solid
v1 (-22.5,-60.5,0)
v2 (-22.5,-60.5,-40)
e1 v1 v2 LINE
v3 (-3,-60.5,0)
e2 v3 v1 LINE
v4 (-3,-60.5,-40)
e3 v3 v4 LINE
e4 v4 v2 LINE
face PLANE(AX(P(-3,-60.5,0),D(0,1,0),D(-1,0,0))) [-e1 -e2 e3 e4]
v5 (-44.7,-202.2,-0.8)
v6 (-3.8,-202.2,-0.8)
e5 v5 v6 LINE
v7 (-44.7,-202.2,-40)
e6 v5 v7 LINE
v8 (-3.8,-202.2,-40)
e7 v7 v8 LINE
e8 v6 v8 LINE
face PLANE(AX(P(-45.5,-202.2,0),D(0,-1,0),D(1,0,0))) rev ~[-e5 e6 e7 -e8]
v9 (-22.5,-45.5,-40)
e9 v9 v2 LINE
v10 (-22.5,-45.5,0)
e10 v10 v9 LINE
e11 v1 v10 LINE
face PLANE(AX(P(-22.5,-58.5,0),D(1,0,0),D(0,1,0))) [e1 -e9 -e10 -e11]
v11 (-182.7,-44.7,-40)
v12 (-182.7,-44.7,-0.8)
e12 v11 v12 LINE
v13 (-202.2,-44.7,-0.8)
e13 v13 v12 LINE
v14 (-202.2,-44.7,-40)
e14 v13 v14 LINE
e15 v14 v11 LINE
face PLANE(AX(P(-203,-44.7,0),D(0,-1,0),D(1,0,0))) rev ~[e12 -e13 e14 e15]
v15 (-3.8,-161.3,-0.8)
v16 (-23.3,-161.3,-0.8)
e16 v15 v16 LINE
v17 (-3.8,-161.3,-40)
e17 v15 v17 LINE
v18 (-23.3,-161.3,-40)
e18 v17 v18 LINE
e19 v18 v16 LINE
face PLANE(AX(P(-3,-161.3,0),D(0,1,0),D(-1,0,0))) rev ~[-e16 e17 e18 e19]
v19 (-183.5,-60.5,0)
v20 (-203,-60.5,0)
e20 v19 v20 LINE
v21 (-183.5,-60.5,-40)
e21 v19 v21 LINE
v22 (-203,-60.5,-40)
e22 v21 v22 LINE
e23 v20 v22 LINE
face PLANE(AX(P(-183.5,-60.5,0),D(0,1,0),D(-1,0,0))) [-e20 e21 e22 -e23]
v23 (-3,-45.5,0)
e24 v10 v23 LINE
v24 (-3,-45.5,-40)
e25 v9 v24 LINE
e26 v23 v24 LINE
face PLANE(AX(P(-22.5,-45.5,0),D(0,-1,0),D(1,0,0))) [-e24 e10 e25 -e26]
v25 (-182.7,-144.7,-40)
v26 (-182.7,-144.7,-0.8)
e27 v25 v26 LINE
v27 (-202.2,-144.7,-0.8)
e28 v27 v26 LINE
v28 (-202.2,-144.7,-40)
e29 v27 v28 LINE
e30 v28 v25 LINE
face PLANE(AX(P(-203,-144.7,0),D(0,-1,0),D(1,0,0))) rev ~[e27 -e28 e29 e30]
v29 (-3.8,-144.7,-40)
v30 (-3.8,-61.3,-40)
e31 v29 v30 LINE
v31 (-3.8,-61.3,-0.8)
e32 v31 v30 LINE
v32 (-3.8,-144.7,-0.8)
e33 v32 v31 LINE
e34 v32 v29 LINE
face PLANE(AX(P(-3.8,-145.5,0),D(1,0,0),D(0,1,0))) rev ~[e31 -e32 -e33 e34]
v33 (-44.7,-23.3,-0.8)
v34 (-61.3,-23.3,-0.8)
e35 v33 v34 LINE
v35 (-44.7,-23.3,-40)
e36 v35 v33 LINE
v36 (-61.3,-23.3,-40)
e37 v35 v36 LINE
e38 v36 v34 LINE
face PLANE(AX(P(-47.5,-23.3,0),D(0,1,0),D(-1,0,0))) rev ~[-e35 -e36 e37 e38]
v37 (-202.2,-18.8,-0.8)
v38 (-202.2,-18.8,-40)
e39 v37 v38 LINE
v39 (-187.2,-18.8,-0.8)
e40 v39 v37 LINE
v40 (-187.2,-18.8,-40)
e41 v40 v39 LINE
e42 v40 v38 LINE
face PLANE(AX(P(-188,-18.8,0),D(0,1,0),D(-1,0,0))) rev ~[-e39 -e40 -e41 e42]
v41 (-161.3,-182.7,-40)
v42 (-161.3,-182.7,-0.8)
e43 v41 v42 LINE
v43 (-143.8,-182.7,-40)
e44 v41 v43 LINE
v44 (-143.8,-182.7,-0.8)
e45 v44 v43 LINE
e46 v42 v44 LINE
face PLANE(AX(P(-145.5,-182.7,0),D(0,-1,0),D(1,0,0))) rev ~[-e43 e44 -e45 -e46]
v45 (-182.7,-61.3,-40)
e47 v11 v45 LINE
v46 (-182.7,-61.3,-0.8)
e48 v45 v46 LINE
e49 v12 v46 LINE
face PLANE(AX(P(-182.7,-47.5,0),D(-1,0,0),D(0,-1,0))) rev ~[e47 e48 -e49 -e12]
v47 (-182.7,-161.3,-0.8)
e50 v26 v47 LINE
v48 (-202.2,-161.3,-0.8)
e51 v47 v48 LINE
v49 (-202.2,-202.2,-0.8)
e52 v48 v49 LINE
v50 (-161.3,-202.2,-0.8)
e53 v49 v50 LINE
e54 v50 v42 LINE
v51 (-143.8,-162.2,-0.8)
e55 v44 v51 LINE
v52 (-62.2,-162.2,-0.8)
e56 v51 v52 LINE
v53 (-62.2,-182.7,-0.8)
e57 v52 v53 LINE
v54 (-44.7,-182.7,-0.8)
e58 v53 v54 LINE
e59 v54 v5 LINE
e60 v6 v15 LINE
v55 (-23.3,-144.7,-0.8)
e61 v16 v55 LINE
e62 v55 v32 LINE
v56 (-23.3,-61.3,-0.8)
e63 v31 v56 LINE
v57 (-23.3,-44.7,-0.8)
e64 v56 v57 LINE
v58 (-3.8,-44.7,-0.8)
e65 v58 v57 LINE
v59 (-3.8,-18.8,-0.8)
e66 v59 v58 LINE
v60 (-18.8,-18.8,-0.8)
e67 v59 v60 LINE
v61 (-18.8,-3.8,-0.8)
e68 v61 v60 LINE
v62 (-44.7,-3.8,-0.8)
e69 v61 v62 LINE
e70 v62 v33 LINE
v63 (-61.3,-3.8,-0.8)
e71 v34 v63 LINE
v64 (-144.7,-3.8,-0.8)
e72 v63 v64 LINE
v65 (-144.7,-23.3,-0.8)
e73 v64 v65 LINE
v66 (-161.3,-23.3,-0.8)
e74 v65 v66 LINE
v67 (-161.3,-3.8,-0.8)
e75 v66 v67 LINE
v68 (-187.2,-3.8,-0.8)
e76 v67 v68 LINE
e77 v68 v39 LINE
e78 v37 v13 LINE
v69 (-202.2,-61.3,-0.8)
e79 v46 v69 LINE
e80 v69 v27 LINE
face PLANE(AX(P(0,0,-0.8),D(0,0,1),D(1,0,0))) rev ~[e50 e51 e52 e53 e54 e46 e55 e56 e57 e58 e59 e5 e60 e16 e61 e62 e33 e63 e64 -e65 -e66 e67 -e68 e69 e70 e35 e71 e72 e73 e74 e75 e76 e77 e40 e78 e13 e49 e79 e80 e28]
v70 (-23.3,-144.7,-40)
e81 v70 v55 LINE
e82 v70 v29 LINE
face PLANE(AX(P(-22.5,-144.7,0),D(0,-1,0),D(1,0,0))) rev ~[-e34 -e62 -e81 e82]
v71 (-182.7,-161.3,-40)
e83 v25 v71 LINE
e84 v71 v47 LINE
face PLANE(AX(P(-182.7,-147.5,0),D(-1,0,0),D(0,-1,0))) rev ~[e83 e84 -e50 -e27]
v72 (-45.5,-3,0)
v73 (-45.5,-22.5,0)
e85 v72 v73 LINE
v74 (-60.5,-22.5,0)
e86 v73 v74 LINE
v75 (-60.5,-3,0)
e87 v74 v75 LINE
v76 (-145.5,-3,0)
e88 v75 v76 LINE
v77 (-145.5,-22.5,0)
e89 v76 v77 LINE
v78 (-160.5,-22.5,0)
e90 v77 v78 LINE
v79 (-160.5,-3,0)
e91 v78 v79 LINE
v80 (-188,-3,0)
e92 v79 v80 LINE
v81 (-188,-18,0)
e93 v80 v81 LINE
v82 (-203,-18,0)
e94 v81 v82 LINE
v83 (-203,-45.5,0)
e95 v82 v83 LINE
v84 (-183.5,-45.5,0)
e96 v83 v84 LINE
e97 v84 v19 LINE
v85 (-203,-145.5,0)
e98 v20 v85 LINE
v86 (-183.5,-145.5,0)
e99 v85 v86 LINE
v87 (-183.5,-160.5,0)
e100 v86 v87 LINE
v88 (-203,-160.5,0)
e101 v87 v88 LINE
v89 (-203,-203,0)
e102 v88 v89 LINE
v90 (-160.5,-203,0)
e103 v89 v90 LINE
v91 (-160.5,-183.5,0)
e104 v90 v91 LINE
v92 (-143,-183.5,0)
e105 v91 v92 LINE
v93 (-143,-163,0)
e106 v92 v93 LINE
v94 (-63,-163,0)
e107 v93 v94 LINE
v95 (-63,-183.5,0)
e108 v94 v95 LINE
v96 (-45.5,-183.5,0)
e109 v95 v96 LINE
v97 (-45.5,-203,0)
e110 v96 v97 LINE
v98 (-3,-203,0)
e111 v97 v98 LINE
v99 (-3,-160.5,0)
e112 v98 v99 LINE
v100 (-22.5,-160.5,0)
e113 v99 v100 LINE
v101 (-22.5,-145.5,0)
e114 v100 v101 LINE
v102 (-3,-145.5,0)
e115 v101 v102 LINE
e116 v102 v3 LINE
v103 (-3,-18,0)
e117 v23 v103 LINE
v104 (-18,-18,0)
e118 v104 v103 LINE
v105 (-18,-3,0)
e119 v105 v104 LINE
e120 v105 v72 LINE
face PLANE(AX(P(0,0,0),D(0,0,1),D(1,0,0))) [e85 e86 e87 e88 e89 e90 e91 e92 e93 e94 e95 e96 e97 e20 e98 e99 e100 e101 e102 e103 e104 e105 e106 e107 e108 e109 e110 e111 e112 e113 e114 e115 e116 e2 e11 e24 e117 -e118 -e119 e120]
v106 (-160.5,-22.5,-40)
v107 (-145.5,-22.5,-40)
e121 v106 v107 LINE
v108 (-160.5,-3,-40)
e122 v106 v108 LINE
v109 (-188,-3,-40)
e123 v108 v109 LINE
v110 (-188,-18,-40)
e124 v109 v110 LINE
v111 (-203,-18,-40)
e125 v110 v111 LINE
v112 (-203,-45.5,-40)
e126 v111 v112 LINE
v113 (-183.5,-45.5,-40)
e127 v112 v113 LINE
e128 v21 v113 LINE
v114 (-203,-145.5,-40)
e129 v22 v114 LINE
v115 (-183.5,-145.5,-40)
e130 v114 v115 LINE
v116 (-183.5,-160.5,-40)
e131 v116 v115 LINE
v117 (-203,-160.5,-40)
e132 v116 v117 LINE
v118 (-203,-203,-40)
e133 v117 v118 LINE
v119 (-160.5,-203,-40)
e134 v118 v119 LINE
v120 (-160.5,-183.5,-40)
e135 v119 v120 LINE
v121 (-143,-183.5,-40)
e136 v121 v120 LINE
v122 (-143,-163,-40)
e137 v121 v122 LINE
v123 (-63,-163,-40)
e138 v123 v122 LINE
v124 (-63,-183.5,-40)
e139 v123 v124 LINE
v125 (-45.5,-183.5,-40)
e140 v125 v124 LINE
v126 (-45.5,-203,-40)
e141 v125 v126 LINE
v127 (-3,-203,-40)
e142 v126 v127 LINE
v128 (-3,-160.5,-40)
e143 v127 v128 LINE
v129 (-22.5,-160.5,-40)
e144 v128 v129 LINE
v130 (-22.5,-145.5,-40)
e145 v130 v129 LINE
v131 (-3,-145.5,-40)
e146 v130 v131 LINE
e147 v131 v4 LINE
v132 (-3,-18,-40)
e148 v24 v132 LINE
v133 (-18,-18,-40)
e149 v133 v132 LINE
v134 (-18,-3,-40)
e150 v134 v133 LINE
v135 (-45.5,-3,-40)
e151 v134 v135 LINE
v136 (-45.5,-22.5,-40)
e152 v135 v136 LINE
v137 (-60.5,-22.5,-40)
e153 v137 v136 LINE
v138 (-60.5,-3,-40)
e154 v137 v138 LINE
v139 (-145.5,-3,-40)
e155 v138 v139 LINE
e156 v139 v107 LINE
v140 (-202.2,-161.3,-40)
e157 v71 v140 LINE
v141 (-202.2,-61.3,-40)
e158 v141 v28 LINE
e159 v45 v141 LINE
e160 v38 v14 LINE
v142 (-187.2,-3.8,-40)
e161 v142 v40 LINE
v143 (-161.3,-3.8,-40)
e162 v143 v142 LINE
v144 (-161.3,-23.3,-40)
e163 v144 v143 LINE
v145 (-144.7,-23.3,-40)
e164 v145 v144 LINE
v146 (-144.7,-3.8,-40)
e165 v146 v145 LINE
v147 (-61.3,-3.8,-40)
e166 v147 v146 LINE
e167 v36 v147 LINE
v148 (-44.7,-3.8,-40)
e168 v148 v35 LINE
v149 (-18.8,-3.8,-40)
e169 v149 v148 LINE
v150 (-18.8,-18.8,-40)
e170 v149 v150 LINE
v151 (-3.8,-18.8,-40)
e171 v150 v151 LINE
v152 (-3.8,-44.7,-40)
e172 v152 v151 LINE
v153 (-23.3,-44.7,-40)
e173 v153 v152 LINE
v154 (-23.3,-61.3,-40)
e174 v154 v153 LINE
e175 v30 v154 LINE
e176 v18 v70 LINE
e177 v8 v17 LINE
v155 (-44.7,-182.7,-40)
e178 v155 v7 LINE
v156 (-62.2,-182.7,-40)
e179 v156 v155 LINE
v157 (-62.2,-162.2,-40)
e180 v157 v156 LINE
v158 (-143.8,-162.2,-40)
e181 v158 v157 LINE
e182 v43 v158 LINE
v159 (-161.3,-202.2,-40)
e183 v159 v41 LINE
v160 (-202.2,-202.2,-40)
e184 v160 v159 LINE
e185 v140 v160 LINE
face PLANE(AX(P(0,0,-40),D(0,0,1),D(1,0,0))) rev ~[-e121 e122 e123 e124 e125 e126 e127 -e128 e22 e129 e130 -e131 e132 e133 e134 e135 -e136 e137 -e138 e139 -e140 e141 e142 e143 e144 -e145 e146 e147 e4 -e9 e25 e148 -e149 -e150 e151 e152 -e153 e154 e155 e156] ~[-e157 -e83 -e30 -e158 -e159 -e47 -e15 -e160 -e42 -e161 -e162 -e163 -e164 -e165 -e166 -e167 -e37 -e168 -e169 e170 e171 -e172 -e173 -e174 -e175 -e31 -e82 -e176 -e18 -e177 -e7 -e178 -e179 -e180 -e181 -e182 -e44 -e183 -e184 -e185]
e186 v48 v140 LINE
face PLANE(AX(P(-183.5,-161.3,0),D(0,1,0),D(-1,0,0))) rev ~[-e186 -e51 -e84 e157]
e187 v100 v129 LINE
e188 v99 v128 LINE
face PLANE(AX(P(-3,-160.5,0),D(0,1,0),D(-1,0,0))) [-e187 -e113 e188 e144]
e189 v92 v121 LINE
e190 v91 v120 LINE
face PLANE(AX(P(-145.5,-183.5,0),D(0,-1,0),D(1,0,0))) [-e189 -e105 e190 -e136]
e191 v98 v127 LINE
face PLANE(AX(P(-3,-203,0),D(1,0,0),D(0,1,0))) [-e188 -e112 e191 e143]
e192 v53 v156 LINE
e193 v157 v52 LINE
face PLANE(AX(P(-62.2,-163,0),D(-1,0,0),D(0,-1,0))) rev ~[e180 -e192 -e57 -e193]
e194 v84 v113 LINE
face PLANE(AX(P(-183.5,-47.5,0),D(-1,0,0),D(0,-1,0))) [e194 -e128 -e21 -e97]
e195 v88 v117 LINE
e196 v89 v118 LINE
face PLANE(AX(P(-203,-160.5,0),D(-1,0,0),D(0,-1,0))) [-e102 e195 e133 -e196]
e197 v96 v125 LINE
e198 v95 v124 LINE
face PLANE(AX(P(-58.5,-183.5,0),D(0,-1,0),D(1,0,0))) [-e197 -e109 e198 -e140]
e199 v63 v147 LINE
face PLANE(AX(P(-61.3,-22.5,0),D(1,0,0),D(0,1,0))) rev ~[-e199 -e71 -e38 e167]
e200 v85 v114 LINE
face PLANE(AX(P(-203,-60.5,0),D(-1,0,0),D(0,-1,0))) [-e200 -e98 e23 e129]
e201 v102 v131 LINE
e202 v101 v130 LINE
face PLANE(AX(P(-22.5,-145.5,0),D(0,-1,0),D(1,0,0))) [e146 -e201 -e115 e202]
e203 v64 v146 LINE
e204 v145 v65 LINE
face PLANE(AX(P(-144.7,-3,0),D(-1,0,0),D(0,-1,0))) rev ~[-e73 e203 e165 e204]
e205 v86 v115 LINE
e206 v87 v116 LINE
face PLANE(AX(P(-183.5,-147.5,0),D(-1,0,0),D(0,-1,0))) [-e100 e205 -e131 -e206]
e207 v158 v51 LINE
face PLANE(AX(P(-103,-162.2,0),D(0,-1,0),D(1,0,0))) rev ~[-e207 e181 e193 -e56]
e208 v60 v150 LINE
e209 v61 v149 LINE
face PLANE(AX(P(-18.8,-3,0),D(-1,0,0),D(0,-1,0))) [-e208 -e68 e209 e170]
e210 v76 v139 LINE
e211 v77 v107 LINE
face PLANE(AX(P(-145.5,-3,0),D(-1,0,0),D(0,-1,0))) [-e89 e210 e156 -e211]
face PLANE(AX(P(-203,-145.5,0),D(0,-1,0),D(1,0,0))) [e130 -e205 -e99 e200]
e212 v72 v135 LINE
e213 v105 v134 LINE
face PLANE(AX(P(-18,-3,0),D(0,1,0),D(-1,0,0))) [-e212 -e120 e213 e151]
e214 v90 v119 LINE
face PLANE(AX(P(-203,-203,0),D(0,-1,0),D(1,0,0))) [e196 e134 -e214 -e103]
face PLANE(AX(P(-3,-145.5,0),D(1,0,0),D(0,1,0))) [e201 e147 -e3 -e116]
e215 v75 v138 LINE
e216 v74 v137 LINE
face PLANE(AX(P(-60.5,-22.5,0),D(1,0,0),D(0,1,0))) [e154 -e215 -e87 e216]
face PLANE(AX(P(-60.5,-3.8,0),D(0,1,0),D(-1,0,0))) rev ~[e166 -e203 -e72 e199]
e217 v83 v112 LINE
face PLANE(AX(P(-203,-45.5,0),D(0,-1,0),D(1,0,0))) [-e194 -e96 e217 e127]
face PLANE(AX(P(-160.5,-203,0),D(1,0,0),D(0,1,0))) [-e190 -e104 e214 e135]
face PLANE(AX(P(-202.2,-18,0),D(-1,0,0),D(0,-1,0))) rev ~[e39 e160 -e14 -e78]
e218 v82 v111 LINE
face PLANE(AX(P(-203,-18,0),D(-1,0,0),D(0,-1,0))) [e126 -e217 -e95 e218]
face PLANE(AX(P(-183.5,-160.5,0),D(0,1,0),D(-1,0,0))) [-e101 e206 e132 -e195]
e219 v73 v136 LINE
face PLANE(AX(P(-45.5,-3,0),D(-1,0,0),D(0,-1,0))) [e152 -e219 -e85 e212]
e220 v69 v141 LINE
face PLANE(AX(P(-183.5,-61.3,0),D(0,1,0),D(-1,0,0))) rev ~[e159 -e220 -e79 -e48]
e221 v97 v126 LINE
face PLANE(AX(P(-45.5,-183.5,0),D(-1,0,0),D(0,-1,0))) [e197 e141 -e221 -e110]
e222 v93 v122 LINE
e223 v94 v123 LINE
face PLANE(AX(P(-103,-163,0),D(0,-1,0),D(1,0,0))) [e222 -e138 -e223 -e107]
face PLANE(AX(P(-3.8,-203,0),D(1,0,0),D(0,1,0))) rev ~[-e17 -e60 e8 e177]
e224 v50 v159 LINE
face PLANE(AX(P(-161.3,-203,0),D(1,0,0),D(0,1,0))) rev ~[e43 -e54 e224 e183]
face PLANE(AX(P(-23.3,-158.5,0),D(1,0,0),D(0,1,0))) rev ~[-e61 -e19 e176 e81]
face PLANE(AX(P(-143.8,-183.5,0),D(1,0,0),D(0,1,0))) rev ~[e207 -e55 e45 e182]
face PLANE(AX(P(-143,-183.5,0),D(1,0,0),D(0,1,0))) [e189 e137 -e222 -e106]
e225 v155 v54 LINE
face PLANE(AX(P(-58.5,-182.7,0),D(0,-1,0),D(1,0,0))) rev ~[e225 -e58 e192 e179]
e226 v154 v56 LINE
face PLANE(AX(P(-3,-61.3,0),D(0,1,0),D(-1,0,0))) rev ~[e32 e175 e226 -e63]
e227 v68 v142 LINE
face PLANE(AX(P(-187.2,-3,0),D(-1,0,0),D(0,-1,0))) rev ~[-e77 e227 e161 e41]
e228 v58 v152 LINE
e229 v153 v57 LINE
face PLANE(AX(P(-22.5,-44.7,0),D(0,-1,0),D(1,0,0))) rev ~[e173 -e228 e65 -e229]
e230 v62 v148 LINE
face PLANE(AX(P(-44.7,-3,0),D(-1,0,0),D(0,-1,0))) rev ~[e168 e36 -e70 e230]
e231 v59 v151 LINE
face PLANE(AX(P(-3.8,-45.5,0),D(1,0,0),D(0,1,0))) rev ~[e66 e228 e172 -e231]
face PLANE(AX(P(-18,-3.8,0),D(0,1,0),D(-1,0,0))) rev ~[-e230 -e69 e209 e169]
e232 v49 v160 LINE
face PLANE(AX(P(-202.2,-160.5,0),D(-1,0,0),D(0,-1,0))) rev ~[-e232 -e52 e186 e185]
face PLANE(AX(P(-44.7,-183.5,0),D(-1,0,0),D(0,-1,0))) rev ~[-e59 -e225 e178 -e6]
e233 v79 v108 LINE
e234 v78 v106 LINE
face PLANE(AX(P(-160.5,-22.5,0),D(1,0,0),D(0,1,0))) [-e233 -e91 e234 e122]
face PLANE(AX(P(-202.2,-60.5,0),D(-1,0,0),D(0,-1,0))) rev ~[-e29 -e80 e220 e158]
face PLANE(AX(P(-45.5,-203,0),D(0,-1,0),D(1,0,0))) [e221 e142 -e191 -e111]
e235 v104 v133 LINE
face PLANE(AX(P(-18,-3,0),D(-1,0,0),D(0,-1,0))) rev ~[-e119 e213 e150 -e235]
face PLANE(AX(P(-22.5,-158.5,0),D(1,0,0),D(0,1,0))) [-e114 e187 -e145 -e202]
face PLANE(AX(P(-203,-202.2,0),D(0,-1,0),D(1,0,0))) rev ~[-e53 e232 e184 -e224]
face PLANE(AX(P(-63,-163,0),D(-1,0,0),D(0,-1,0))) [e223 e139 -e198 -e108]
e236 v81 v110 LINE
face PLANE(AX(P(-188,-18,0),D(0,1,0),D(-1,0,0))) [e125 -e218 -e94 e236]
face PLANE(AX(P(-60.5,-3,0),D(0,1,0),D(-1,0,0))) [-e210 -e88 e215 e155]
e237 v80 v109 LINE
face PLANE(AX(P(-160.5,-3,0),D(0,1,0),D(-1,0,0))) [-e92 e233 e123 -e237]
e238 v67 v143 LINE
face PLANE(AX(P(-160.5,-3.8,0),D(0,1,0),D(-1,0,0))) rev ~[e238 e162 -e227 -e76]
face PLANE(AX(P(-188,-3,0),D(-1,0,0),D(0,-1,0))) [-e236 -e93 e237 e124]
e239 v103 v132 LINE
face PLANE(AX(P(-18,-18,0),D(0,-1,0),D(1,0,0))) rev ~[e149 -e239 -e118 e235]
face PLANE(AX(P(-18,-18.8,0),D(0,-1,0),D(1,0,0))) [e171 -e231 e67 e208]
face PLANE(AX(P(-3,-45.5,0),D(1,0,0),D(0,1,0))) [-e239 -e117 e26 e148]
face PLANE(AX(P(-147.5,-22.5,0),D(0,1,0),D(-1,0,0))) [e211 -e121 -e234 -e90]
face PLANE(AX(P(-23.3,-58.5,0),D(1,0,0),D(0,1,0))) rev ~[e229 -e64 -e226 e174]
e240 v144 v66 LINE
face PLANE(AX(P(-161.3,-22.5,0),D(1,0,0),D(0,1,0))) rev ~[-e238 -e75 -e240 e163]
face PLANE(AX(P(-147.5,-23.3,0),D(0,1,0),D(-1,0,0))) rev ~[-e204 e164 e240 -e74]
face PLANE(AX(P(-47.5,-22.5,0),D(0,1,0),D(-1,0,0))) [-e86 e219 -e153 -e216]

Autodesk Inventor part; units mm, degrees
ref_plane "YZ Plane" through (0, 0, 0) normal (1, 0, 0) x (0, 1, 0)
ref_plane "XZ Plane" through (0, 0, 0) normal (0, 1, 0) x (-1, 0, 0)
ref_plane "XY Plane" through (0, 0, 0) normal (0, 0, 1) x (1, 0, 0)
sketch "Boceto1" plane through (0, 0, 0) normal (0, 0, 1) x (1, 0, 0)
  line L0 (0, -12.2) -> (0, -206) projected
  line L1 (-3, -206) -> (-3, -12.2) projected
  line L2 (0, -206) -> (-3, -206) projected
  line L3 (-206, -203) -> (-206, 0) projected
  line L4 (-203, 0) -> (-203, -203) projected
  line L5 (-206, 0) -> (-203, 0) projected
  line L6 (-203, -203) -> (-3, -203)
  line L7 (-3, -203) -> (-3, -3)
  line L8 (-3, -3) -> (-203, -3)
  line L9 (-203, -3) -> (-203, -203)
  line L10 (-103, -203) -> (-103, -163)
  line L11 (-103, -163) -> (-143, -163)
  line L12 (-143, -163) -> (-63, -163)
  line L13 (-63, -163) -> (-63, -203)
  line L14 (-63, -203) -> (-143, -203)
  line L15 (-143, -203) -> (-143, -163)
  line L16 (-147.5, -3) -> (-147.5, -20.5)
  line L17 (-158.5, -20.5) -> (-158.5, -3)
  line L18 (-147.5, -3) -> (-147.5, -20.5)
  line L19 (-158.5, -3) -> (-147.5, -3) projected
  circle A0 centre (-191, -53) radius 2.1 projected
  line L20 (-185.5, -58.5) -> (-203, -58.5) projected
  line L21 (-185.5, -47.5) -> (-185.5, -58.5) projected
  line L22 (-203, -47.5) -> (-185.5, -47.5) projected
  line L23 (-203, -58.5) -> (-203, -47.5) projected
  circle A1 centre (-53, -15) radius 2.1 projected
  line L24 (-58.5, -20.5) -> (-58.5, -3) projected
  line L25 (-47.5, -20.5) -> (-58.5, -20.5) projected
  line L26 (-47.5, -3) -> (-47.5, -20.5) projected
  line L27 (-58.5, -3) -> (-47.5, -3) projected
  circle A2 centre (-15, -53) radius 2.1 projected
  line L28 (-20.5, -47.5) -> (-3, -47.5) projected
  line L29 (-20.5, -58.5) -> (-20.5, -47.5) projected
  line L30 (-3, -58.5) -> (-20.5, -58.5) projected
  line L31 (-3, -47.5) -> (-3, -58.5) projected
  line L32 (-20.5, -147.5) -> (-3, -147.5) projected
  line L33 (-3, -158.5) -> (-20.5, -158.5) projected
  line L34 (-20.5, -158.5) -> (-20.5, -147.5) projected
  line L35 (-47.5, -185.5) -> (-47.5, -203) projected
  line L36 (-58.5, -203) -> (-58.5, -185.5) projected
  line L37 (-58.5, -185.5) -> (-47.5, -185.5) projected
  line L38 (-158.5, -203) -> (-158.5, -185.5) projected
  line L39 (-158.5, -185.5) -> (-147.5, -185.5) projected
  line L40 (-147.5, -185.5) -> (-147.5, -203) projected
  line L41 (-185.5, -158.5) -> (-203, -158.5) projected
  line L42 (-203, -147.5) -> (-185.5, -147.5) projected
  line L43 (-185.5, -147.5) -> (-185.5, -158.5) projected
  line L44 (-158.5, -3) -> (-147.5, -3)
  line L45 (-147.5, -3) -> (-147.5, -20.5)
  line L46 (-158.5, -20.5) -> (-158.5, -3)
  line L47 (-158.5, -3) -> (-147.5, -3)
  line L48 (-147.5, -3) -> (-147.5, -20.5)
  line L49 (-147.5, -20.5) -> (-158.5, -20.5)
  line L50 (-158.5, -20.5) -> (-158.5, -3)
  line L51 (-147.5, -22.5) -> (-160.5, -22.5)
  line L52 (-160.5, -22.5) -> (-160.5, -3)
  line L53 (-160.5, -3) -> (-145.5, -3)
  line L54 (-145.5, -3) -> (-145.5, -22.5)
  line L55 (-145.5, -22.5) -> (-160.5, -22.5)
  line L56 (-160.5, -22.5) -> (-160.5, -3)
  circle A3 centre (-103, -103) radius 47 projected
  line L57 (-47.5, -22.5) -> (-60.5, -22.5)
  line L58 (-60.5, -22.5) -> (-60.5, -3)
  line L59 (-45.5, -3) -> (-45.5, -22.5)
  line L60 (-45.5, -22.5) -> (-60.5, -22.5)
  line L61 (-60.5, -22.5) -> (-60.5, -3)
  line L62 (-183.5, -160.5) -> (-203, -160.5)
  line L63 (-203, -147.5) -> (-185.5, -147.5)
  line L64 (-203, -147.5) -> (-185.5, -147.5)
  line L65 (-185.5, -158.5) -> (-203, -158.5)
  line L66 (-183.5, -160.5) -> (-203, -160.5)
  line L67 (-185.5, -158.5) -> (-203, -158.5)
  line L68 (-185.5, -158.5) -> (-203, -158.5)
  line L69 (-183.5, -147.5) -> (-183.5, -160.5)
  line L70 (-203, -147.5) -> (-185.5, -147.5)
  line L71 (-203, -147.5) -> (-185.5, -147.5)
  line L72 (-185.5, -147.5) -> (-185.5, -158.5)
  line L73 (-183.5, -145.5) -> (-183.5, -160.5)
  line L74 (-203, -145.5) -> (-183.5, -145.5)
  line L75 (-183.5, -47.5) -> (-183.5, -60.5)
  line L76 (-183.5, -45.5) -> (-183.5, -60.5)
  line L77 (-183.5, -60.5) -> (-203, -60.5)
  line L78 (-183.5, -60.5) -> (-203, -60.5)
  line L79 (-203, -45.5) -> (-183.5, -45.5)
  line L80 (-45.5, -183.5) -> (-45.5, -203)
  line L81 (-58.5, -203) -> (-58.5, -185.5)
  line L82 (-58.5, -203) -> (-58.5, -185.5)
  line L83 (-47.5, -185.5) -> (-47.5, -203)
  line L84 (-45.5, -183.5) -> (-45.5, -203)
  line L85 (-47.5, -185.5) -> (-47.5, -203)
  line L86 (-47.5, -185.5) -> (-47.5, -203)
  line L87 (-58.5, -183.5) -> (-45.5, -183.5)
  line L88 (-58.5, -203) -> (-58.5, -185.5)
  line L89 (-58.5, -203) -> (-58.5, -185.5)
  line L90 (-58.5, -185.5) -> (-47.5, -185.5)
  line L91 (-60.5, -183.5) -> (-45.5, -183.5)
  line L92 (-60.5, -203) -> (-60.5, -183.5)
  line L93 (-158.5, -183.5) -> (-145.5, -183.5)
  line L94 (-160.5, -183.5) -> (-145.5, -183.5)
  line L95 (-145.5, -183.5) -> (-145.5, -203)
  line L96 (-145.5, -183.5) -> (-145.5, -203)
  line L97 (-160.5, -203) -> (-160.5, -183.5)
  line L98 (-22.5, -45.5) -> (-3, -45.5)
  line L99 (-3, -58.5) -> (-20.5, -58.5)
  line L100 (-3, -58.5) -> (-20.5, -58.5)
  line L101 (-20.5, -47.5) -> (-3, -47.5)
  line L102 (-22.5, -45.5) -> (-3, -45.5)
  line L103 (-20.5, -47.5) -> (-3, -47.5)
  line L104 (-20.5, -47.5) -> (-3, -47.5)
  line L105 (-22.5, -58.5) -> (-22.5, -45.5)
  line L106 (-3, -58.5) -> (-20.5, -58.5)
  line L107 (-3, -58.5) -> (-20.5, -58.5)
  line L108 (-20.5, -58.5) -> (-20.5, -47.5)
  line L109 (-22.5, -60.5) -> (-22.5, -45.5)
  line L110 (-3, -60.5) -> (-22.5, -60.5)
  line L111 (-22.5, -158.5) -> (-22.5, -145.5)
  line L112 (-22.5, -160.5) -> (-22.5, -145.5)
  line L113 (-22.5, -145.5) -> (-3, -145.5)
  line L114 (-22.5, -145.5) -> (-3, -145.5)
  line L115 (-3, -160.5) -> (-22.5, -160.5)
  line L116 (-145.5, -183.5) -> (-60.5, -183.5)
  line L117 (-3, -3) -> (-18, -3)
  line L118 (-18, -3) -> (-18, -18)
  line L119 (-18, -18) -> (-3, -18)
  line L120 (-3, -18) -> (-3, -3)
  line L121 (-203, -3) -> (-188, -3)
  line L122 (-188, -3) -> (-188, -18)
  line L123 (-188, -18) -> (-203, -18)
  line L124 (-203, -18) -> (-203, -3)
  line L125 (-206, -203) -> (-203, -203) projected
  line L126 (0, -12.2) -> (-3, -12.2) projected
  point P0 (0, 0)
  point P1 (-3, -203)
  point P2 (-3, -160.5)
  point P3 (-3, -145.5)
  point P4 (-3, -60.5)
  point P5 (-3, -45.5)
  point P6 (-63, -183.5)
  point P7 (-143, -183.5)
  point P8 (-3, -18)
  dimension "d3" = 40
  dimension "d4" = 40
  dimension "d5" = 80
  dimension "d6" = 2
  dimension "d7" = 15
  dimension "d8" = 15
  dimension "d11" = 360
  dimension "d13" = 15
  dimension "d14" = 15
  dimension "d15" = 15
extrude "Extrusión1" add sketch "Boceto1" against normal blind 40 contours L1 L98 L105 L109 L110 L113 L111 L112 L115 L6 L80 L87 L91 L116 L13 L12 L11 L15 L93 L94 L97 L4 L62 L69 L73 L74 L77 L75 L76 L79 L123 L122 L8 L52 L51 L55 L54 L58 L57 L60 L59 L118 L119 | A3
shell "Vaciado1" thickness 0.8 removed faces 1 at (-103, -69.3333, -40)
properties part number "Contrapeso"
